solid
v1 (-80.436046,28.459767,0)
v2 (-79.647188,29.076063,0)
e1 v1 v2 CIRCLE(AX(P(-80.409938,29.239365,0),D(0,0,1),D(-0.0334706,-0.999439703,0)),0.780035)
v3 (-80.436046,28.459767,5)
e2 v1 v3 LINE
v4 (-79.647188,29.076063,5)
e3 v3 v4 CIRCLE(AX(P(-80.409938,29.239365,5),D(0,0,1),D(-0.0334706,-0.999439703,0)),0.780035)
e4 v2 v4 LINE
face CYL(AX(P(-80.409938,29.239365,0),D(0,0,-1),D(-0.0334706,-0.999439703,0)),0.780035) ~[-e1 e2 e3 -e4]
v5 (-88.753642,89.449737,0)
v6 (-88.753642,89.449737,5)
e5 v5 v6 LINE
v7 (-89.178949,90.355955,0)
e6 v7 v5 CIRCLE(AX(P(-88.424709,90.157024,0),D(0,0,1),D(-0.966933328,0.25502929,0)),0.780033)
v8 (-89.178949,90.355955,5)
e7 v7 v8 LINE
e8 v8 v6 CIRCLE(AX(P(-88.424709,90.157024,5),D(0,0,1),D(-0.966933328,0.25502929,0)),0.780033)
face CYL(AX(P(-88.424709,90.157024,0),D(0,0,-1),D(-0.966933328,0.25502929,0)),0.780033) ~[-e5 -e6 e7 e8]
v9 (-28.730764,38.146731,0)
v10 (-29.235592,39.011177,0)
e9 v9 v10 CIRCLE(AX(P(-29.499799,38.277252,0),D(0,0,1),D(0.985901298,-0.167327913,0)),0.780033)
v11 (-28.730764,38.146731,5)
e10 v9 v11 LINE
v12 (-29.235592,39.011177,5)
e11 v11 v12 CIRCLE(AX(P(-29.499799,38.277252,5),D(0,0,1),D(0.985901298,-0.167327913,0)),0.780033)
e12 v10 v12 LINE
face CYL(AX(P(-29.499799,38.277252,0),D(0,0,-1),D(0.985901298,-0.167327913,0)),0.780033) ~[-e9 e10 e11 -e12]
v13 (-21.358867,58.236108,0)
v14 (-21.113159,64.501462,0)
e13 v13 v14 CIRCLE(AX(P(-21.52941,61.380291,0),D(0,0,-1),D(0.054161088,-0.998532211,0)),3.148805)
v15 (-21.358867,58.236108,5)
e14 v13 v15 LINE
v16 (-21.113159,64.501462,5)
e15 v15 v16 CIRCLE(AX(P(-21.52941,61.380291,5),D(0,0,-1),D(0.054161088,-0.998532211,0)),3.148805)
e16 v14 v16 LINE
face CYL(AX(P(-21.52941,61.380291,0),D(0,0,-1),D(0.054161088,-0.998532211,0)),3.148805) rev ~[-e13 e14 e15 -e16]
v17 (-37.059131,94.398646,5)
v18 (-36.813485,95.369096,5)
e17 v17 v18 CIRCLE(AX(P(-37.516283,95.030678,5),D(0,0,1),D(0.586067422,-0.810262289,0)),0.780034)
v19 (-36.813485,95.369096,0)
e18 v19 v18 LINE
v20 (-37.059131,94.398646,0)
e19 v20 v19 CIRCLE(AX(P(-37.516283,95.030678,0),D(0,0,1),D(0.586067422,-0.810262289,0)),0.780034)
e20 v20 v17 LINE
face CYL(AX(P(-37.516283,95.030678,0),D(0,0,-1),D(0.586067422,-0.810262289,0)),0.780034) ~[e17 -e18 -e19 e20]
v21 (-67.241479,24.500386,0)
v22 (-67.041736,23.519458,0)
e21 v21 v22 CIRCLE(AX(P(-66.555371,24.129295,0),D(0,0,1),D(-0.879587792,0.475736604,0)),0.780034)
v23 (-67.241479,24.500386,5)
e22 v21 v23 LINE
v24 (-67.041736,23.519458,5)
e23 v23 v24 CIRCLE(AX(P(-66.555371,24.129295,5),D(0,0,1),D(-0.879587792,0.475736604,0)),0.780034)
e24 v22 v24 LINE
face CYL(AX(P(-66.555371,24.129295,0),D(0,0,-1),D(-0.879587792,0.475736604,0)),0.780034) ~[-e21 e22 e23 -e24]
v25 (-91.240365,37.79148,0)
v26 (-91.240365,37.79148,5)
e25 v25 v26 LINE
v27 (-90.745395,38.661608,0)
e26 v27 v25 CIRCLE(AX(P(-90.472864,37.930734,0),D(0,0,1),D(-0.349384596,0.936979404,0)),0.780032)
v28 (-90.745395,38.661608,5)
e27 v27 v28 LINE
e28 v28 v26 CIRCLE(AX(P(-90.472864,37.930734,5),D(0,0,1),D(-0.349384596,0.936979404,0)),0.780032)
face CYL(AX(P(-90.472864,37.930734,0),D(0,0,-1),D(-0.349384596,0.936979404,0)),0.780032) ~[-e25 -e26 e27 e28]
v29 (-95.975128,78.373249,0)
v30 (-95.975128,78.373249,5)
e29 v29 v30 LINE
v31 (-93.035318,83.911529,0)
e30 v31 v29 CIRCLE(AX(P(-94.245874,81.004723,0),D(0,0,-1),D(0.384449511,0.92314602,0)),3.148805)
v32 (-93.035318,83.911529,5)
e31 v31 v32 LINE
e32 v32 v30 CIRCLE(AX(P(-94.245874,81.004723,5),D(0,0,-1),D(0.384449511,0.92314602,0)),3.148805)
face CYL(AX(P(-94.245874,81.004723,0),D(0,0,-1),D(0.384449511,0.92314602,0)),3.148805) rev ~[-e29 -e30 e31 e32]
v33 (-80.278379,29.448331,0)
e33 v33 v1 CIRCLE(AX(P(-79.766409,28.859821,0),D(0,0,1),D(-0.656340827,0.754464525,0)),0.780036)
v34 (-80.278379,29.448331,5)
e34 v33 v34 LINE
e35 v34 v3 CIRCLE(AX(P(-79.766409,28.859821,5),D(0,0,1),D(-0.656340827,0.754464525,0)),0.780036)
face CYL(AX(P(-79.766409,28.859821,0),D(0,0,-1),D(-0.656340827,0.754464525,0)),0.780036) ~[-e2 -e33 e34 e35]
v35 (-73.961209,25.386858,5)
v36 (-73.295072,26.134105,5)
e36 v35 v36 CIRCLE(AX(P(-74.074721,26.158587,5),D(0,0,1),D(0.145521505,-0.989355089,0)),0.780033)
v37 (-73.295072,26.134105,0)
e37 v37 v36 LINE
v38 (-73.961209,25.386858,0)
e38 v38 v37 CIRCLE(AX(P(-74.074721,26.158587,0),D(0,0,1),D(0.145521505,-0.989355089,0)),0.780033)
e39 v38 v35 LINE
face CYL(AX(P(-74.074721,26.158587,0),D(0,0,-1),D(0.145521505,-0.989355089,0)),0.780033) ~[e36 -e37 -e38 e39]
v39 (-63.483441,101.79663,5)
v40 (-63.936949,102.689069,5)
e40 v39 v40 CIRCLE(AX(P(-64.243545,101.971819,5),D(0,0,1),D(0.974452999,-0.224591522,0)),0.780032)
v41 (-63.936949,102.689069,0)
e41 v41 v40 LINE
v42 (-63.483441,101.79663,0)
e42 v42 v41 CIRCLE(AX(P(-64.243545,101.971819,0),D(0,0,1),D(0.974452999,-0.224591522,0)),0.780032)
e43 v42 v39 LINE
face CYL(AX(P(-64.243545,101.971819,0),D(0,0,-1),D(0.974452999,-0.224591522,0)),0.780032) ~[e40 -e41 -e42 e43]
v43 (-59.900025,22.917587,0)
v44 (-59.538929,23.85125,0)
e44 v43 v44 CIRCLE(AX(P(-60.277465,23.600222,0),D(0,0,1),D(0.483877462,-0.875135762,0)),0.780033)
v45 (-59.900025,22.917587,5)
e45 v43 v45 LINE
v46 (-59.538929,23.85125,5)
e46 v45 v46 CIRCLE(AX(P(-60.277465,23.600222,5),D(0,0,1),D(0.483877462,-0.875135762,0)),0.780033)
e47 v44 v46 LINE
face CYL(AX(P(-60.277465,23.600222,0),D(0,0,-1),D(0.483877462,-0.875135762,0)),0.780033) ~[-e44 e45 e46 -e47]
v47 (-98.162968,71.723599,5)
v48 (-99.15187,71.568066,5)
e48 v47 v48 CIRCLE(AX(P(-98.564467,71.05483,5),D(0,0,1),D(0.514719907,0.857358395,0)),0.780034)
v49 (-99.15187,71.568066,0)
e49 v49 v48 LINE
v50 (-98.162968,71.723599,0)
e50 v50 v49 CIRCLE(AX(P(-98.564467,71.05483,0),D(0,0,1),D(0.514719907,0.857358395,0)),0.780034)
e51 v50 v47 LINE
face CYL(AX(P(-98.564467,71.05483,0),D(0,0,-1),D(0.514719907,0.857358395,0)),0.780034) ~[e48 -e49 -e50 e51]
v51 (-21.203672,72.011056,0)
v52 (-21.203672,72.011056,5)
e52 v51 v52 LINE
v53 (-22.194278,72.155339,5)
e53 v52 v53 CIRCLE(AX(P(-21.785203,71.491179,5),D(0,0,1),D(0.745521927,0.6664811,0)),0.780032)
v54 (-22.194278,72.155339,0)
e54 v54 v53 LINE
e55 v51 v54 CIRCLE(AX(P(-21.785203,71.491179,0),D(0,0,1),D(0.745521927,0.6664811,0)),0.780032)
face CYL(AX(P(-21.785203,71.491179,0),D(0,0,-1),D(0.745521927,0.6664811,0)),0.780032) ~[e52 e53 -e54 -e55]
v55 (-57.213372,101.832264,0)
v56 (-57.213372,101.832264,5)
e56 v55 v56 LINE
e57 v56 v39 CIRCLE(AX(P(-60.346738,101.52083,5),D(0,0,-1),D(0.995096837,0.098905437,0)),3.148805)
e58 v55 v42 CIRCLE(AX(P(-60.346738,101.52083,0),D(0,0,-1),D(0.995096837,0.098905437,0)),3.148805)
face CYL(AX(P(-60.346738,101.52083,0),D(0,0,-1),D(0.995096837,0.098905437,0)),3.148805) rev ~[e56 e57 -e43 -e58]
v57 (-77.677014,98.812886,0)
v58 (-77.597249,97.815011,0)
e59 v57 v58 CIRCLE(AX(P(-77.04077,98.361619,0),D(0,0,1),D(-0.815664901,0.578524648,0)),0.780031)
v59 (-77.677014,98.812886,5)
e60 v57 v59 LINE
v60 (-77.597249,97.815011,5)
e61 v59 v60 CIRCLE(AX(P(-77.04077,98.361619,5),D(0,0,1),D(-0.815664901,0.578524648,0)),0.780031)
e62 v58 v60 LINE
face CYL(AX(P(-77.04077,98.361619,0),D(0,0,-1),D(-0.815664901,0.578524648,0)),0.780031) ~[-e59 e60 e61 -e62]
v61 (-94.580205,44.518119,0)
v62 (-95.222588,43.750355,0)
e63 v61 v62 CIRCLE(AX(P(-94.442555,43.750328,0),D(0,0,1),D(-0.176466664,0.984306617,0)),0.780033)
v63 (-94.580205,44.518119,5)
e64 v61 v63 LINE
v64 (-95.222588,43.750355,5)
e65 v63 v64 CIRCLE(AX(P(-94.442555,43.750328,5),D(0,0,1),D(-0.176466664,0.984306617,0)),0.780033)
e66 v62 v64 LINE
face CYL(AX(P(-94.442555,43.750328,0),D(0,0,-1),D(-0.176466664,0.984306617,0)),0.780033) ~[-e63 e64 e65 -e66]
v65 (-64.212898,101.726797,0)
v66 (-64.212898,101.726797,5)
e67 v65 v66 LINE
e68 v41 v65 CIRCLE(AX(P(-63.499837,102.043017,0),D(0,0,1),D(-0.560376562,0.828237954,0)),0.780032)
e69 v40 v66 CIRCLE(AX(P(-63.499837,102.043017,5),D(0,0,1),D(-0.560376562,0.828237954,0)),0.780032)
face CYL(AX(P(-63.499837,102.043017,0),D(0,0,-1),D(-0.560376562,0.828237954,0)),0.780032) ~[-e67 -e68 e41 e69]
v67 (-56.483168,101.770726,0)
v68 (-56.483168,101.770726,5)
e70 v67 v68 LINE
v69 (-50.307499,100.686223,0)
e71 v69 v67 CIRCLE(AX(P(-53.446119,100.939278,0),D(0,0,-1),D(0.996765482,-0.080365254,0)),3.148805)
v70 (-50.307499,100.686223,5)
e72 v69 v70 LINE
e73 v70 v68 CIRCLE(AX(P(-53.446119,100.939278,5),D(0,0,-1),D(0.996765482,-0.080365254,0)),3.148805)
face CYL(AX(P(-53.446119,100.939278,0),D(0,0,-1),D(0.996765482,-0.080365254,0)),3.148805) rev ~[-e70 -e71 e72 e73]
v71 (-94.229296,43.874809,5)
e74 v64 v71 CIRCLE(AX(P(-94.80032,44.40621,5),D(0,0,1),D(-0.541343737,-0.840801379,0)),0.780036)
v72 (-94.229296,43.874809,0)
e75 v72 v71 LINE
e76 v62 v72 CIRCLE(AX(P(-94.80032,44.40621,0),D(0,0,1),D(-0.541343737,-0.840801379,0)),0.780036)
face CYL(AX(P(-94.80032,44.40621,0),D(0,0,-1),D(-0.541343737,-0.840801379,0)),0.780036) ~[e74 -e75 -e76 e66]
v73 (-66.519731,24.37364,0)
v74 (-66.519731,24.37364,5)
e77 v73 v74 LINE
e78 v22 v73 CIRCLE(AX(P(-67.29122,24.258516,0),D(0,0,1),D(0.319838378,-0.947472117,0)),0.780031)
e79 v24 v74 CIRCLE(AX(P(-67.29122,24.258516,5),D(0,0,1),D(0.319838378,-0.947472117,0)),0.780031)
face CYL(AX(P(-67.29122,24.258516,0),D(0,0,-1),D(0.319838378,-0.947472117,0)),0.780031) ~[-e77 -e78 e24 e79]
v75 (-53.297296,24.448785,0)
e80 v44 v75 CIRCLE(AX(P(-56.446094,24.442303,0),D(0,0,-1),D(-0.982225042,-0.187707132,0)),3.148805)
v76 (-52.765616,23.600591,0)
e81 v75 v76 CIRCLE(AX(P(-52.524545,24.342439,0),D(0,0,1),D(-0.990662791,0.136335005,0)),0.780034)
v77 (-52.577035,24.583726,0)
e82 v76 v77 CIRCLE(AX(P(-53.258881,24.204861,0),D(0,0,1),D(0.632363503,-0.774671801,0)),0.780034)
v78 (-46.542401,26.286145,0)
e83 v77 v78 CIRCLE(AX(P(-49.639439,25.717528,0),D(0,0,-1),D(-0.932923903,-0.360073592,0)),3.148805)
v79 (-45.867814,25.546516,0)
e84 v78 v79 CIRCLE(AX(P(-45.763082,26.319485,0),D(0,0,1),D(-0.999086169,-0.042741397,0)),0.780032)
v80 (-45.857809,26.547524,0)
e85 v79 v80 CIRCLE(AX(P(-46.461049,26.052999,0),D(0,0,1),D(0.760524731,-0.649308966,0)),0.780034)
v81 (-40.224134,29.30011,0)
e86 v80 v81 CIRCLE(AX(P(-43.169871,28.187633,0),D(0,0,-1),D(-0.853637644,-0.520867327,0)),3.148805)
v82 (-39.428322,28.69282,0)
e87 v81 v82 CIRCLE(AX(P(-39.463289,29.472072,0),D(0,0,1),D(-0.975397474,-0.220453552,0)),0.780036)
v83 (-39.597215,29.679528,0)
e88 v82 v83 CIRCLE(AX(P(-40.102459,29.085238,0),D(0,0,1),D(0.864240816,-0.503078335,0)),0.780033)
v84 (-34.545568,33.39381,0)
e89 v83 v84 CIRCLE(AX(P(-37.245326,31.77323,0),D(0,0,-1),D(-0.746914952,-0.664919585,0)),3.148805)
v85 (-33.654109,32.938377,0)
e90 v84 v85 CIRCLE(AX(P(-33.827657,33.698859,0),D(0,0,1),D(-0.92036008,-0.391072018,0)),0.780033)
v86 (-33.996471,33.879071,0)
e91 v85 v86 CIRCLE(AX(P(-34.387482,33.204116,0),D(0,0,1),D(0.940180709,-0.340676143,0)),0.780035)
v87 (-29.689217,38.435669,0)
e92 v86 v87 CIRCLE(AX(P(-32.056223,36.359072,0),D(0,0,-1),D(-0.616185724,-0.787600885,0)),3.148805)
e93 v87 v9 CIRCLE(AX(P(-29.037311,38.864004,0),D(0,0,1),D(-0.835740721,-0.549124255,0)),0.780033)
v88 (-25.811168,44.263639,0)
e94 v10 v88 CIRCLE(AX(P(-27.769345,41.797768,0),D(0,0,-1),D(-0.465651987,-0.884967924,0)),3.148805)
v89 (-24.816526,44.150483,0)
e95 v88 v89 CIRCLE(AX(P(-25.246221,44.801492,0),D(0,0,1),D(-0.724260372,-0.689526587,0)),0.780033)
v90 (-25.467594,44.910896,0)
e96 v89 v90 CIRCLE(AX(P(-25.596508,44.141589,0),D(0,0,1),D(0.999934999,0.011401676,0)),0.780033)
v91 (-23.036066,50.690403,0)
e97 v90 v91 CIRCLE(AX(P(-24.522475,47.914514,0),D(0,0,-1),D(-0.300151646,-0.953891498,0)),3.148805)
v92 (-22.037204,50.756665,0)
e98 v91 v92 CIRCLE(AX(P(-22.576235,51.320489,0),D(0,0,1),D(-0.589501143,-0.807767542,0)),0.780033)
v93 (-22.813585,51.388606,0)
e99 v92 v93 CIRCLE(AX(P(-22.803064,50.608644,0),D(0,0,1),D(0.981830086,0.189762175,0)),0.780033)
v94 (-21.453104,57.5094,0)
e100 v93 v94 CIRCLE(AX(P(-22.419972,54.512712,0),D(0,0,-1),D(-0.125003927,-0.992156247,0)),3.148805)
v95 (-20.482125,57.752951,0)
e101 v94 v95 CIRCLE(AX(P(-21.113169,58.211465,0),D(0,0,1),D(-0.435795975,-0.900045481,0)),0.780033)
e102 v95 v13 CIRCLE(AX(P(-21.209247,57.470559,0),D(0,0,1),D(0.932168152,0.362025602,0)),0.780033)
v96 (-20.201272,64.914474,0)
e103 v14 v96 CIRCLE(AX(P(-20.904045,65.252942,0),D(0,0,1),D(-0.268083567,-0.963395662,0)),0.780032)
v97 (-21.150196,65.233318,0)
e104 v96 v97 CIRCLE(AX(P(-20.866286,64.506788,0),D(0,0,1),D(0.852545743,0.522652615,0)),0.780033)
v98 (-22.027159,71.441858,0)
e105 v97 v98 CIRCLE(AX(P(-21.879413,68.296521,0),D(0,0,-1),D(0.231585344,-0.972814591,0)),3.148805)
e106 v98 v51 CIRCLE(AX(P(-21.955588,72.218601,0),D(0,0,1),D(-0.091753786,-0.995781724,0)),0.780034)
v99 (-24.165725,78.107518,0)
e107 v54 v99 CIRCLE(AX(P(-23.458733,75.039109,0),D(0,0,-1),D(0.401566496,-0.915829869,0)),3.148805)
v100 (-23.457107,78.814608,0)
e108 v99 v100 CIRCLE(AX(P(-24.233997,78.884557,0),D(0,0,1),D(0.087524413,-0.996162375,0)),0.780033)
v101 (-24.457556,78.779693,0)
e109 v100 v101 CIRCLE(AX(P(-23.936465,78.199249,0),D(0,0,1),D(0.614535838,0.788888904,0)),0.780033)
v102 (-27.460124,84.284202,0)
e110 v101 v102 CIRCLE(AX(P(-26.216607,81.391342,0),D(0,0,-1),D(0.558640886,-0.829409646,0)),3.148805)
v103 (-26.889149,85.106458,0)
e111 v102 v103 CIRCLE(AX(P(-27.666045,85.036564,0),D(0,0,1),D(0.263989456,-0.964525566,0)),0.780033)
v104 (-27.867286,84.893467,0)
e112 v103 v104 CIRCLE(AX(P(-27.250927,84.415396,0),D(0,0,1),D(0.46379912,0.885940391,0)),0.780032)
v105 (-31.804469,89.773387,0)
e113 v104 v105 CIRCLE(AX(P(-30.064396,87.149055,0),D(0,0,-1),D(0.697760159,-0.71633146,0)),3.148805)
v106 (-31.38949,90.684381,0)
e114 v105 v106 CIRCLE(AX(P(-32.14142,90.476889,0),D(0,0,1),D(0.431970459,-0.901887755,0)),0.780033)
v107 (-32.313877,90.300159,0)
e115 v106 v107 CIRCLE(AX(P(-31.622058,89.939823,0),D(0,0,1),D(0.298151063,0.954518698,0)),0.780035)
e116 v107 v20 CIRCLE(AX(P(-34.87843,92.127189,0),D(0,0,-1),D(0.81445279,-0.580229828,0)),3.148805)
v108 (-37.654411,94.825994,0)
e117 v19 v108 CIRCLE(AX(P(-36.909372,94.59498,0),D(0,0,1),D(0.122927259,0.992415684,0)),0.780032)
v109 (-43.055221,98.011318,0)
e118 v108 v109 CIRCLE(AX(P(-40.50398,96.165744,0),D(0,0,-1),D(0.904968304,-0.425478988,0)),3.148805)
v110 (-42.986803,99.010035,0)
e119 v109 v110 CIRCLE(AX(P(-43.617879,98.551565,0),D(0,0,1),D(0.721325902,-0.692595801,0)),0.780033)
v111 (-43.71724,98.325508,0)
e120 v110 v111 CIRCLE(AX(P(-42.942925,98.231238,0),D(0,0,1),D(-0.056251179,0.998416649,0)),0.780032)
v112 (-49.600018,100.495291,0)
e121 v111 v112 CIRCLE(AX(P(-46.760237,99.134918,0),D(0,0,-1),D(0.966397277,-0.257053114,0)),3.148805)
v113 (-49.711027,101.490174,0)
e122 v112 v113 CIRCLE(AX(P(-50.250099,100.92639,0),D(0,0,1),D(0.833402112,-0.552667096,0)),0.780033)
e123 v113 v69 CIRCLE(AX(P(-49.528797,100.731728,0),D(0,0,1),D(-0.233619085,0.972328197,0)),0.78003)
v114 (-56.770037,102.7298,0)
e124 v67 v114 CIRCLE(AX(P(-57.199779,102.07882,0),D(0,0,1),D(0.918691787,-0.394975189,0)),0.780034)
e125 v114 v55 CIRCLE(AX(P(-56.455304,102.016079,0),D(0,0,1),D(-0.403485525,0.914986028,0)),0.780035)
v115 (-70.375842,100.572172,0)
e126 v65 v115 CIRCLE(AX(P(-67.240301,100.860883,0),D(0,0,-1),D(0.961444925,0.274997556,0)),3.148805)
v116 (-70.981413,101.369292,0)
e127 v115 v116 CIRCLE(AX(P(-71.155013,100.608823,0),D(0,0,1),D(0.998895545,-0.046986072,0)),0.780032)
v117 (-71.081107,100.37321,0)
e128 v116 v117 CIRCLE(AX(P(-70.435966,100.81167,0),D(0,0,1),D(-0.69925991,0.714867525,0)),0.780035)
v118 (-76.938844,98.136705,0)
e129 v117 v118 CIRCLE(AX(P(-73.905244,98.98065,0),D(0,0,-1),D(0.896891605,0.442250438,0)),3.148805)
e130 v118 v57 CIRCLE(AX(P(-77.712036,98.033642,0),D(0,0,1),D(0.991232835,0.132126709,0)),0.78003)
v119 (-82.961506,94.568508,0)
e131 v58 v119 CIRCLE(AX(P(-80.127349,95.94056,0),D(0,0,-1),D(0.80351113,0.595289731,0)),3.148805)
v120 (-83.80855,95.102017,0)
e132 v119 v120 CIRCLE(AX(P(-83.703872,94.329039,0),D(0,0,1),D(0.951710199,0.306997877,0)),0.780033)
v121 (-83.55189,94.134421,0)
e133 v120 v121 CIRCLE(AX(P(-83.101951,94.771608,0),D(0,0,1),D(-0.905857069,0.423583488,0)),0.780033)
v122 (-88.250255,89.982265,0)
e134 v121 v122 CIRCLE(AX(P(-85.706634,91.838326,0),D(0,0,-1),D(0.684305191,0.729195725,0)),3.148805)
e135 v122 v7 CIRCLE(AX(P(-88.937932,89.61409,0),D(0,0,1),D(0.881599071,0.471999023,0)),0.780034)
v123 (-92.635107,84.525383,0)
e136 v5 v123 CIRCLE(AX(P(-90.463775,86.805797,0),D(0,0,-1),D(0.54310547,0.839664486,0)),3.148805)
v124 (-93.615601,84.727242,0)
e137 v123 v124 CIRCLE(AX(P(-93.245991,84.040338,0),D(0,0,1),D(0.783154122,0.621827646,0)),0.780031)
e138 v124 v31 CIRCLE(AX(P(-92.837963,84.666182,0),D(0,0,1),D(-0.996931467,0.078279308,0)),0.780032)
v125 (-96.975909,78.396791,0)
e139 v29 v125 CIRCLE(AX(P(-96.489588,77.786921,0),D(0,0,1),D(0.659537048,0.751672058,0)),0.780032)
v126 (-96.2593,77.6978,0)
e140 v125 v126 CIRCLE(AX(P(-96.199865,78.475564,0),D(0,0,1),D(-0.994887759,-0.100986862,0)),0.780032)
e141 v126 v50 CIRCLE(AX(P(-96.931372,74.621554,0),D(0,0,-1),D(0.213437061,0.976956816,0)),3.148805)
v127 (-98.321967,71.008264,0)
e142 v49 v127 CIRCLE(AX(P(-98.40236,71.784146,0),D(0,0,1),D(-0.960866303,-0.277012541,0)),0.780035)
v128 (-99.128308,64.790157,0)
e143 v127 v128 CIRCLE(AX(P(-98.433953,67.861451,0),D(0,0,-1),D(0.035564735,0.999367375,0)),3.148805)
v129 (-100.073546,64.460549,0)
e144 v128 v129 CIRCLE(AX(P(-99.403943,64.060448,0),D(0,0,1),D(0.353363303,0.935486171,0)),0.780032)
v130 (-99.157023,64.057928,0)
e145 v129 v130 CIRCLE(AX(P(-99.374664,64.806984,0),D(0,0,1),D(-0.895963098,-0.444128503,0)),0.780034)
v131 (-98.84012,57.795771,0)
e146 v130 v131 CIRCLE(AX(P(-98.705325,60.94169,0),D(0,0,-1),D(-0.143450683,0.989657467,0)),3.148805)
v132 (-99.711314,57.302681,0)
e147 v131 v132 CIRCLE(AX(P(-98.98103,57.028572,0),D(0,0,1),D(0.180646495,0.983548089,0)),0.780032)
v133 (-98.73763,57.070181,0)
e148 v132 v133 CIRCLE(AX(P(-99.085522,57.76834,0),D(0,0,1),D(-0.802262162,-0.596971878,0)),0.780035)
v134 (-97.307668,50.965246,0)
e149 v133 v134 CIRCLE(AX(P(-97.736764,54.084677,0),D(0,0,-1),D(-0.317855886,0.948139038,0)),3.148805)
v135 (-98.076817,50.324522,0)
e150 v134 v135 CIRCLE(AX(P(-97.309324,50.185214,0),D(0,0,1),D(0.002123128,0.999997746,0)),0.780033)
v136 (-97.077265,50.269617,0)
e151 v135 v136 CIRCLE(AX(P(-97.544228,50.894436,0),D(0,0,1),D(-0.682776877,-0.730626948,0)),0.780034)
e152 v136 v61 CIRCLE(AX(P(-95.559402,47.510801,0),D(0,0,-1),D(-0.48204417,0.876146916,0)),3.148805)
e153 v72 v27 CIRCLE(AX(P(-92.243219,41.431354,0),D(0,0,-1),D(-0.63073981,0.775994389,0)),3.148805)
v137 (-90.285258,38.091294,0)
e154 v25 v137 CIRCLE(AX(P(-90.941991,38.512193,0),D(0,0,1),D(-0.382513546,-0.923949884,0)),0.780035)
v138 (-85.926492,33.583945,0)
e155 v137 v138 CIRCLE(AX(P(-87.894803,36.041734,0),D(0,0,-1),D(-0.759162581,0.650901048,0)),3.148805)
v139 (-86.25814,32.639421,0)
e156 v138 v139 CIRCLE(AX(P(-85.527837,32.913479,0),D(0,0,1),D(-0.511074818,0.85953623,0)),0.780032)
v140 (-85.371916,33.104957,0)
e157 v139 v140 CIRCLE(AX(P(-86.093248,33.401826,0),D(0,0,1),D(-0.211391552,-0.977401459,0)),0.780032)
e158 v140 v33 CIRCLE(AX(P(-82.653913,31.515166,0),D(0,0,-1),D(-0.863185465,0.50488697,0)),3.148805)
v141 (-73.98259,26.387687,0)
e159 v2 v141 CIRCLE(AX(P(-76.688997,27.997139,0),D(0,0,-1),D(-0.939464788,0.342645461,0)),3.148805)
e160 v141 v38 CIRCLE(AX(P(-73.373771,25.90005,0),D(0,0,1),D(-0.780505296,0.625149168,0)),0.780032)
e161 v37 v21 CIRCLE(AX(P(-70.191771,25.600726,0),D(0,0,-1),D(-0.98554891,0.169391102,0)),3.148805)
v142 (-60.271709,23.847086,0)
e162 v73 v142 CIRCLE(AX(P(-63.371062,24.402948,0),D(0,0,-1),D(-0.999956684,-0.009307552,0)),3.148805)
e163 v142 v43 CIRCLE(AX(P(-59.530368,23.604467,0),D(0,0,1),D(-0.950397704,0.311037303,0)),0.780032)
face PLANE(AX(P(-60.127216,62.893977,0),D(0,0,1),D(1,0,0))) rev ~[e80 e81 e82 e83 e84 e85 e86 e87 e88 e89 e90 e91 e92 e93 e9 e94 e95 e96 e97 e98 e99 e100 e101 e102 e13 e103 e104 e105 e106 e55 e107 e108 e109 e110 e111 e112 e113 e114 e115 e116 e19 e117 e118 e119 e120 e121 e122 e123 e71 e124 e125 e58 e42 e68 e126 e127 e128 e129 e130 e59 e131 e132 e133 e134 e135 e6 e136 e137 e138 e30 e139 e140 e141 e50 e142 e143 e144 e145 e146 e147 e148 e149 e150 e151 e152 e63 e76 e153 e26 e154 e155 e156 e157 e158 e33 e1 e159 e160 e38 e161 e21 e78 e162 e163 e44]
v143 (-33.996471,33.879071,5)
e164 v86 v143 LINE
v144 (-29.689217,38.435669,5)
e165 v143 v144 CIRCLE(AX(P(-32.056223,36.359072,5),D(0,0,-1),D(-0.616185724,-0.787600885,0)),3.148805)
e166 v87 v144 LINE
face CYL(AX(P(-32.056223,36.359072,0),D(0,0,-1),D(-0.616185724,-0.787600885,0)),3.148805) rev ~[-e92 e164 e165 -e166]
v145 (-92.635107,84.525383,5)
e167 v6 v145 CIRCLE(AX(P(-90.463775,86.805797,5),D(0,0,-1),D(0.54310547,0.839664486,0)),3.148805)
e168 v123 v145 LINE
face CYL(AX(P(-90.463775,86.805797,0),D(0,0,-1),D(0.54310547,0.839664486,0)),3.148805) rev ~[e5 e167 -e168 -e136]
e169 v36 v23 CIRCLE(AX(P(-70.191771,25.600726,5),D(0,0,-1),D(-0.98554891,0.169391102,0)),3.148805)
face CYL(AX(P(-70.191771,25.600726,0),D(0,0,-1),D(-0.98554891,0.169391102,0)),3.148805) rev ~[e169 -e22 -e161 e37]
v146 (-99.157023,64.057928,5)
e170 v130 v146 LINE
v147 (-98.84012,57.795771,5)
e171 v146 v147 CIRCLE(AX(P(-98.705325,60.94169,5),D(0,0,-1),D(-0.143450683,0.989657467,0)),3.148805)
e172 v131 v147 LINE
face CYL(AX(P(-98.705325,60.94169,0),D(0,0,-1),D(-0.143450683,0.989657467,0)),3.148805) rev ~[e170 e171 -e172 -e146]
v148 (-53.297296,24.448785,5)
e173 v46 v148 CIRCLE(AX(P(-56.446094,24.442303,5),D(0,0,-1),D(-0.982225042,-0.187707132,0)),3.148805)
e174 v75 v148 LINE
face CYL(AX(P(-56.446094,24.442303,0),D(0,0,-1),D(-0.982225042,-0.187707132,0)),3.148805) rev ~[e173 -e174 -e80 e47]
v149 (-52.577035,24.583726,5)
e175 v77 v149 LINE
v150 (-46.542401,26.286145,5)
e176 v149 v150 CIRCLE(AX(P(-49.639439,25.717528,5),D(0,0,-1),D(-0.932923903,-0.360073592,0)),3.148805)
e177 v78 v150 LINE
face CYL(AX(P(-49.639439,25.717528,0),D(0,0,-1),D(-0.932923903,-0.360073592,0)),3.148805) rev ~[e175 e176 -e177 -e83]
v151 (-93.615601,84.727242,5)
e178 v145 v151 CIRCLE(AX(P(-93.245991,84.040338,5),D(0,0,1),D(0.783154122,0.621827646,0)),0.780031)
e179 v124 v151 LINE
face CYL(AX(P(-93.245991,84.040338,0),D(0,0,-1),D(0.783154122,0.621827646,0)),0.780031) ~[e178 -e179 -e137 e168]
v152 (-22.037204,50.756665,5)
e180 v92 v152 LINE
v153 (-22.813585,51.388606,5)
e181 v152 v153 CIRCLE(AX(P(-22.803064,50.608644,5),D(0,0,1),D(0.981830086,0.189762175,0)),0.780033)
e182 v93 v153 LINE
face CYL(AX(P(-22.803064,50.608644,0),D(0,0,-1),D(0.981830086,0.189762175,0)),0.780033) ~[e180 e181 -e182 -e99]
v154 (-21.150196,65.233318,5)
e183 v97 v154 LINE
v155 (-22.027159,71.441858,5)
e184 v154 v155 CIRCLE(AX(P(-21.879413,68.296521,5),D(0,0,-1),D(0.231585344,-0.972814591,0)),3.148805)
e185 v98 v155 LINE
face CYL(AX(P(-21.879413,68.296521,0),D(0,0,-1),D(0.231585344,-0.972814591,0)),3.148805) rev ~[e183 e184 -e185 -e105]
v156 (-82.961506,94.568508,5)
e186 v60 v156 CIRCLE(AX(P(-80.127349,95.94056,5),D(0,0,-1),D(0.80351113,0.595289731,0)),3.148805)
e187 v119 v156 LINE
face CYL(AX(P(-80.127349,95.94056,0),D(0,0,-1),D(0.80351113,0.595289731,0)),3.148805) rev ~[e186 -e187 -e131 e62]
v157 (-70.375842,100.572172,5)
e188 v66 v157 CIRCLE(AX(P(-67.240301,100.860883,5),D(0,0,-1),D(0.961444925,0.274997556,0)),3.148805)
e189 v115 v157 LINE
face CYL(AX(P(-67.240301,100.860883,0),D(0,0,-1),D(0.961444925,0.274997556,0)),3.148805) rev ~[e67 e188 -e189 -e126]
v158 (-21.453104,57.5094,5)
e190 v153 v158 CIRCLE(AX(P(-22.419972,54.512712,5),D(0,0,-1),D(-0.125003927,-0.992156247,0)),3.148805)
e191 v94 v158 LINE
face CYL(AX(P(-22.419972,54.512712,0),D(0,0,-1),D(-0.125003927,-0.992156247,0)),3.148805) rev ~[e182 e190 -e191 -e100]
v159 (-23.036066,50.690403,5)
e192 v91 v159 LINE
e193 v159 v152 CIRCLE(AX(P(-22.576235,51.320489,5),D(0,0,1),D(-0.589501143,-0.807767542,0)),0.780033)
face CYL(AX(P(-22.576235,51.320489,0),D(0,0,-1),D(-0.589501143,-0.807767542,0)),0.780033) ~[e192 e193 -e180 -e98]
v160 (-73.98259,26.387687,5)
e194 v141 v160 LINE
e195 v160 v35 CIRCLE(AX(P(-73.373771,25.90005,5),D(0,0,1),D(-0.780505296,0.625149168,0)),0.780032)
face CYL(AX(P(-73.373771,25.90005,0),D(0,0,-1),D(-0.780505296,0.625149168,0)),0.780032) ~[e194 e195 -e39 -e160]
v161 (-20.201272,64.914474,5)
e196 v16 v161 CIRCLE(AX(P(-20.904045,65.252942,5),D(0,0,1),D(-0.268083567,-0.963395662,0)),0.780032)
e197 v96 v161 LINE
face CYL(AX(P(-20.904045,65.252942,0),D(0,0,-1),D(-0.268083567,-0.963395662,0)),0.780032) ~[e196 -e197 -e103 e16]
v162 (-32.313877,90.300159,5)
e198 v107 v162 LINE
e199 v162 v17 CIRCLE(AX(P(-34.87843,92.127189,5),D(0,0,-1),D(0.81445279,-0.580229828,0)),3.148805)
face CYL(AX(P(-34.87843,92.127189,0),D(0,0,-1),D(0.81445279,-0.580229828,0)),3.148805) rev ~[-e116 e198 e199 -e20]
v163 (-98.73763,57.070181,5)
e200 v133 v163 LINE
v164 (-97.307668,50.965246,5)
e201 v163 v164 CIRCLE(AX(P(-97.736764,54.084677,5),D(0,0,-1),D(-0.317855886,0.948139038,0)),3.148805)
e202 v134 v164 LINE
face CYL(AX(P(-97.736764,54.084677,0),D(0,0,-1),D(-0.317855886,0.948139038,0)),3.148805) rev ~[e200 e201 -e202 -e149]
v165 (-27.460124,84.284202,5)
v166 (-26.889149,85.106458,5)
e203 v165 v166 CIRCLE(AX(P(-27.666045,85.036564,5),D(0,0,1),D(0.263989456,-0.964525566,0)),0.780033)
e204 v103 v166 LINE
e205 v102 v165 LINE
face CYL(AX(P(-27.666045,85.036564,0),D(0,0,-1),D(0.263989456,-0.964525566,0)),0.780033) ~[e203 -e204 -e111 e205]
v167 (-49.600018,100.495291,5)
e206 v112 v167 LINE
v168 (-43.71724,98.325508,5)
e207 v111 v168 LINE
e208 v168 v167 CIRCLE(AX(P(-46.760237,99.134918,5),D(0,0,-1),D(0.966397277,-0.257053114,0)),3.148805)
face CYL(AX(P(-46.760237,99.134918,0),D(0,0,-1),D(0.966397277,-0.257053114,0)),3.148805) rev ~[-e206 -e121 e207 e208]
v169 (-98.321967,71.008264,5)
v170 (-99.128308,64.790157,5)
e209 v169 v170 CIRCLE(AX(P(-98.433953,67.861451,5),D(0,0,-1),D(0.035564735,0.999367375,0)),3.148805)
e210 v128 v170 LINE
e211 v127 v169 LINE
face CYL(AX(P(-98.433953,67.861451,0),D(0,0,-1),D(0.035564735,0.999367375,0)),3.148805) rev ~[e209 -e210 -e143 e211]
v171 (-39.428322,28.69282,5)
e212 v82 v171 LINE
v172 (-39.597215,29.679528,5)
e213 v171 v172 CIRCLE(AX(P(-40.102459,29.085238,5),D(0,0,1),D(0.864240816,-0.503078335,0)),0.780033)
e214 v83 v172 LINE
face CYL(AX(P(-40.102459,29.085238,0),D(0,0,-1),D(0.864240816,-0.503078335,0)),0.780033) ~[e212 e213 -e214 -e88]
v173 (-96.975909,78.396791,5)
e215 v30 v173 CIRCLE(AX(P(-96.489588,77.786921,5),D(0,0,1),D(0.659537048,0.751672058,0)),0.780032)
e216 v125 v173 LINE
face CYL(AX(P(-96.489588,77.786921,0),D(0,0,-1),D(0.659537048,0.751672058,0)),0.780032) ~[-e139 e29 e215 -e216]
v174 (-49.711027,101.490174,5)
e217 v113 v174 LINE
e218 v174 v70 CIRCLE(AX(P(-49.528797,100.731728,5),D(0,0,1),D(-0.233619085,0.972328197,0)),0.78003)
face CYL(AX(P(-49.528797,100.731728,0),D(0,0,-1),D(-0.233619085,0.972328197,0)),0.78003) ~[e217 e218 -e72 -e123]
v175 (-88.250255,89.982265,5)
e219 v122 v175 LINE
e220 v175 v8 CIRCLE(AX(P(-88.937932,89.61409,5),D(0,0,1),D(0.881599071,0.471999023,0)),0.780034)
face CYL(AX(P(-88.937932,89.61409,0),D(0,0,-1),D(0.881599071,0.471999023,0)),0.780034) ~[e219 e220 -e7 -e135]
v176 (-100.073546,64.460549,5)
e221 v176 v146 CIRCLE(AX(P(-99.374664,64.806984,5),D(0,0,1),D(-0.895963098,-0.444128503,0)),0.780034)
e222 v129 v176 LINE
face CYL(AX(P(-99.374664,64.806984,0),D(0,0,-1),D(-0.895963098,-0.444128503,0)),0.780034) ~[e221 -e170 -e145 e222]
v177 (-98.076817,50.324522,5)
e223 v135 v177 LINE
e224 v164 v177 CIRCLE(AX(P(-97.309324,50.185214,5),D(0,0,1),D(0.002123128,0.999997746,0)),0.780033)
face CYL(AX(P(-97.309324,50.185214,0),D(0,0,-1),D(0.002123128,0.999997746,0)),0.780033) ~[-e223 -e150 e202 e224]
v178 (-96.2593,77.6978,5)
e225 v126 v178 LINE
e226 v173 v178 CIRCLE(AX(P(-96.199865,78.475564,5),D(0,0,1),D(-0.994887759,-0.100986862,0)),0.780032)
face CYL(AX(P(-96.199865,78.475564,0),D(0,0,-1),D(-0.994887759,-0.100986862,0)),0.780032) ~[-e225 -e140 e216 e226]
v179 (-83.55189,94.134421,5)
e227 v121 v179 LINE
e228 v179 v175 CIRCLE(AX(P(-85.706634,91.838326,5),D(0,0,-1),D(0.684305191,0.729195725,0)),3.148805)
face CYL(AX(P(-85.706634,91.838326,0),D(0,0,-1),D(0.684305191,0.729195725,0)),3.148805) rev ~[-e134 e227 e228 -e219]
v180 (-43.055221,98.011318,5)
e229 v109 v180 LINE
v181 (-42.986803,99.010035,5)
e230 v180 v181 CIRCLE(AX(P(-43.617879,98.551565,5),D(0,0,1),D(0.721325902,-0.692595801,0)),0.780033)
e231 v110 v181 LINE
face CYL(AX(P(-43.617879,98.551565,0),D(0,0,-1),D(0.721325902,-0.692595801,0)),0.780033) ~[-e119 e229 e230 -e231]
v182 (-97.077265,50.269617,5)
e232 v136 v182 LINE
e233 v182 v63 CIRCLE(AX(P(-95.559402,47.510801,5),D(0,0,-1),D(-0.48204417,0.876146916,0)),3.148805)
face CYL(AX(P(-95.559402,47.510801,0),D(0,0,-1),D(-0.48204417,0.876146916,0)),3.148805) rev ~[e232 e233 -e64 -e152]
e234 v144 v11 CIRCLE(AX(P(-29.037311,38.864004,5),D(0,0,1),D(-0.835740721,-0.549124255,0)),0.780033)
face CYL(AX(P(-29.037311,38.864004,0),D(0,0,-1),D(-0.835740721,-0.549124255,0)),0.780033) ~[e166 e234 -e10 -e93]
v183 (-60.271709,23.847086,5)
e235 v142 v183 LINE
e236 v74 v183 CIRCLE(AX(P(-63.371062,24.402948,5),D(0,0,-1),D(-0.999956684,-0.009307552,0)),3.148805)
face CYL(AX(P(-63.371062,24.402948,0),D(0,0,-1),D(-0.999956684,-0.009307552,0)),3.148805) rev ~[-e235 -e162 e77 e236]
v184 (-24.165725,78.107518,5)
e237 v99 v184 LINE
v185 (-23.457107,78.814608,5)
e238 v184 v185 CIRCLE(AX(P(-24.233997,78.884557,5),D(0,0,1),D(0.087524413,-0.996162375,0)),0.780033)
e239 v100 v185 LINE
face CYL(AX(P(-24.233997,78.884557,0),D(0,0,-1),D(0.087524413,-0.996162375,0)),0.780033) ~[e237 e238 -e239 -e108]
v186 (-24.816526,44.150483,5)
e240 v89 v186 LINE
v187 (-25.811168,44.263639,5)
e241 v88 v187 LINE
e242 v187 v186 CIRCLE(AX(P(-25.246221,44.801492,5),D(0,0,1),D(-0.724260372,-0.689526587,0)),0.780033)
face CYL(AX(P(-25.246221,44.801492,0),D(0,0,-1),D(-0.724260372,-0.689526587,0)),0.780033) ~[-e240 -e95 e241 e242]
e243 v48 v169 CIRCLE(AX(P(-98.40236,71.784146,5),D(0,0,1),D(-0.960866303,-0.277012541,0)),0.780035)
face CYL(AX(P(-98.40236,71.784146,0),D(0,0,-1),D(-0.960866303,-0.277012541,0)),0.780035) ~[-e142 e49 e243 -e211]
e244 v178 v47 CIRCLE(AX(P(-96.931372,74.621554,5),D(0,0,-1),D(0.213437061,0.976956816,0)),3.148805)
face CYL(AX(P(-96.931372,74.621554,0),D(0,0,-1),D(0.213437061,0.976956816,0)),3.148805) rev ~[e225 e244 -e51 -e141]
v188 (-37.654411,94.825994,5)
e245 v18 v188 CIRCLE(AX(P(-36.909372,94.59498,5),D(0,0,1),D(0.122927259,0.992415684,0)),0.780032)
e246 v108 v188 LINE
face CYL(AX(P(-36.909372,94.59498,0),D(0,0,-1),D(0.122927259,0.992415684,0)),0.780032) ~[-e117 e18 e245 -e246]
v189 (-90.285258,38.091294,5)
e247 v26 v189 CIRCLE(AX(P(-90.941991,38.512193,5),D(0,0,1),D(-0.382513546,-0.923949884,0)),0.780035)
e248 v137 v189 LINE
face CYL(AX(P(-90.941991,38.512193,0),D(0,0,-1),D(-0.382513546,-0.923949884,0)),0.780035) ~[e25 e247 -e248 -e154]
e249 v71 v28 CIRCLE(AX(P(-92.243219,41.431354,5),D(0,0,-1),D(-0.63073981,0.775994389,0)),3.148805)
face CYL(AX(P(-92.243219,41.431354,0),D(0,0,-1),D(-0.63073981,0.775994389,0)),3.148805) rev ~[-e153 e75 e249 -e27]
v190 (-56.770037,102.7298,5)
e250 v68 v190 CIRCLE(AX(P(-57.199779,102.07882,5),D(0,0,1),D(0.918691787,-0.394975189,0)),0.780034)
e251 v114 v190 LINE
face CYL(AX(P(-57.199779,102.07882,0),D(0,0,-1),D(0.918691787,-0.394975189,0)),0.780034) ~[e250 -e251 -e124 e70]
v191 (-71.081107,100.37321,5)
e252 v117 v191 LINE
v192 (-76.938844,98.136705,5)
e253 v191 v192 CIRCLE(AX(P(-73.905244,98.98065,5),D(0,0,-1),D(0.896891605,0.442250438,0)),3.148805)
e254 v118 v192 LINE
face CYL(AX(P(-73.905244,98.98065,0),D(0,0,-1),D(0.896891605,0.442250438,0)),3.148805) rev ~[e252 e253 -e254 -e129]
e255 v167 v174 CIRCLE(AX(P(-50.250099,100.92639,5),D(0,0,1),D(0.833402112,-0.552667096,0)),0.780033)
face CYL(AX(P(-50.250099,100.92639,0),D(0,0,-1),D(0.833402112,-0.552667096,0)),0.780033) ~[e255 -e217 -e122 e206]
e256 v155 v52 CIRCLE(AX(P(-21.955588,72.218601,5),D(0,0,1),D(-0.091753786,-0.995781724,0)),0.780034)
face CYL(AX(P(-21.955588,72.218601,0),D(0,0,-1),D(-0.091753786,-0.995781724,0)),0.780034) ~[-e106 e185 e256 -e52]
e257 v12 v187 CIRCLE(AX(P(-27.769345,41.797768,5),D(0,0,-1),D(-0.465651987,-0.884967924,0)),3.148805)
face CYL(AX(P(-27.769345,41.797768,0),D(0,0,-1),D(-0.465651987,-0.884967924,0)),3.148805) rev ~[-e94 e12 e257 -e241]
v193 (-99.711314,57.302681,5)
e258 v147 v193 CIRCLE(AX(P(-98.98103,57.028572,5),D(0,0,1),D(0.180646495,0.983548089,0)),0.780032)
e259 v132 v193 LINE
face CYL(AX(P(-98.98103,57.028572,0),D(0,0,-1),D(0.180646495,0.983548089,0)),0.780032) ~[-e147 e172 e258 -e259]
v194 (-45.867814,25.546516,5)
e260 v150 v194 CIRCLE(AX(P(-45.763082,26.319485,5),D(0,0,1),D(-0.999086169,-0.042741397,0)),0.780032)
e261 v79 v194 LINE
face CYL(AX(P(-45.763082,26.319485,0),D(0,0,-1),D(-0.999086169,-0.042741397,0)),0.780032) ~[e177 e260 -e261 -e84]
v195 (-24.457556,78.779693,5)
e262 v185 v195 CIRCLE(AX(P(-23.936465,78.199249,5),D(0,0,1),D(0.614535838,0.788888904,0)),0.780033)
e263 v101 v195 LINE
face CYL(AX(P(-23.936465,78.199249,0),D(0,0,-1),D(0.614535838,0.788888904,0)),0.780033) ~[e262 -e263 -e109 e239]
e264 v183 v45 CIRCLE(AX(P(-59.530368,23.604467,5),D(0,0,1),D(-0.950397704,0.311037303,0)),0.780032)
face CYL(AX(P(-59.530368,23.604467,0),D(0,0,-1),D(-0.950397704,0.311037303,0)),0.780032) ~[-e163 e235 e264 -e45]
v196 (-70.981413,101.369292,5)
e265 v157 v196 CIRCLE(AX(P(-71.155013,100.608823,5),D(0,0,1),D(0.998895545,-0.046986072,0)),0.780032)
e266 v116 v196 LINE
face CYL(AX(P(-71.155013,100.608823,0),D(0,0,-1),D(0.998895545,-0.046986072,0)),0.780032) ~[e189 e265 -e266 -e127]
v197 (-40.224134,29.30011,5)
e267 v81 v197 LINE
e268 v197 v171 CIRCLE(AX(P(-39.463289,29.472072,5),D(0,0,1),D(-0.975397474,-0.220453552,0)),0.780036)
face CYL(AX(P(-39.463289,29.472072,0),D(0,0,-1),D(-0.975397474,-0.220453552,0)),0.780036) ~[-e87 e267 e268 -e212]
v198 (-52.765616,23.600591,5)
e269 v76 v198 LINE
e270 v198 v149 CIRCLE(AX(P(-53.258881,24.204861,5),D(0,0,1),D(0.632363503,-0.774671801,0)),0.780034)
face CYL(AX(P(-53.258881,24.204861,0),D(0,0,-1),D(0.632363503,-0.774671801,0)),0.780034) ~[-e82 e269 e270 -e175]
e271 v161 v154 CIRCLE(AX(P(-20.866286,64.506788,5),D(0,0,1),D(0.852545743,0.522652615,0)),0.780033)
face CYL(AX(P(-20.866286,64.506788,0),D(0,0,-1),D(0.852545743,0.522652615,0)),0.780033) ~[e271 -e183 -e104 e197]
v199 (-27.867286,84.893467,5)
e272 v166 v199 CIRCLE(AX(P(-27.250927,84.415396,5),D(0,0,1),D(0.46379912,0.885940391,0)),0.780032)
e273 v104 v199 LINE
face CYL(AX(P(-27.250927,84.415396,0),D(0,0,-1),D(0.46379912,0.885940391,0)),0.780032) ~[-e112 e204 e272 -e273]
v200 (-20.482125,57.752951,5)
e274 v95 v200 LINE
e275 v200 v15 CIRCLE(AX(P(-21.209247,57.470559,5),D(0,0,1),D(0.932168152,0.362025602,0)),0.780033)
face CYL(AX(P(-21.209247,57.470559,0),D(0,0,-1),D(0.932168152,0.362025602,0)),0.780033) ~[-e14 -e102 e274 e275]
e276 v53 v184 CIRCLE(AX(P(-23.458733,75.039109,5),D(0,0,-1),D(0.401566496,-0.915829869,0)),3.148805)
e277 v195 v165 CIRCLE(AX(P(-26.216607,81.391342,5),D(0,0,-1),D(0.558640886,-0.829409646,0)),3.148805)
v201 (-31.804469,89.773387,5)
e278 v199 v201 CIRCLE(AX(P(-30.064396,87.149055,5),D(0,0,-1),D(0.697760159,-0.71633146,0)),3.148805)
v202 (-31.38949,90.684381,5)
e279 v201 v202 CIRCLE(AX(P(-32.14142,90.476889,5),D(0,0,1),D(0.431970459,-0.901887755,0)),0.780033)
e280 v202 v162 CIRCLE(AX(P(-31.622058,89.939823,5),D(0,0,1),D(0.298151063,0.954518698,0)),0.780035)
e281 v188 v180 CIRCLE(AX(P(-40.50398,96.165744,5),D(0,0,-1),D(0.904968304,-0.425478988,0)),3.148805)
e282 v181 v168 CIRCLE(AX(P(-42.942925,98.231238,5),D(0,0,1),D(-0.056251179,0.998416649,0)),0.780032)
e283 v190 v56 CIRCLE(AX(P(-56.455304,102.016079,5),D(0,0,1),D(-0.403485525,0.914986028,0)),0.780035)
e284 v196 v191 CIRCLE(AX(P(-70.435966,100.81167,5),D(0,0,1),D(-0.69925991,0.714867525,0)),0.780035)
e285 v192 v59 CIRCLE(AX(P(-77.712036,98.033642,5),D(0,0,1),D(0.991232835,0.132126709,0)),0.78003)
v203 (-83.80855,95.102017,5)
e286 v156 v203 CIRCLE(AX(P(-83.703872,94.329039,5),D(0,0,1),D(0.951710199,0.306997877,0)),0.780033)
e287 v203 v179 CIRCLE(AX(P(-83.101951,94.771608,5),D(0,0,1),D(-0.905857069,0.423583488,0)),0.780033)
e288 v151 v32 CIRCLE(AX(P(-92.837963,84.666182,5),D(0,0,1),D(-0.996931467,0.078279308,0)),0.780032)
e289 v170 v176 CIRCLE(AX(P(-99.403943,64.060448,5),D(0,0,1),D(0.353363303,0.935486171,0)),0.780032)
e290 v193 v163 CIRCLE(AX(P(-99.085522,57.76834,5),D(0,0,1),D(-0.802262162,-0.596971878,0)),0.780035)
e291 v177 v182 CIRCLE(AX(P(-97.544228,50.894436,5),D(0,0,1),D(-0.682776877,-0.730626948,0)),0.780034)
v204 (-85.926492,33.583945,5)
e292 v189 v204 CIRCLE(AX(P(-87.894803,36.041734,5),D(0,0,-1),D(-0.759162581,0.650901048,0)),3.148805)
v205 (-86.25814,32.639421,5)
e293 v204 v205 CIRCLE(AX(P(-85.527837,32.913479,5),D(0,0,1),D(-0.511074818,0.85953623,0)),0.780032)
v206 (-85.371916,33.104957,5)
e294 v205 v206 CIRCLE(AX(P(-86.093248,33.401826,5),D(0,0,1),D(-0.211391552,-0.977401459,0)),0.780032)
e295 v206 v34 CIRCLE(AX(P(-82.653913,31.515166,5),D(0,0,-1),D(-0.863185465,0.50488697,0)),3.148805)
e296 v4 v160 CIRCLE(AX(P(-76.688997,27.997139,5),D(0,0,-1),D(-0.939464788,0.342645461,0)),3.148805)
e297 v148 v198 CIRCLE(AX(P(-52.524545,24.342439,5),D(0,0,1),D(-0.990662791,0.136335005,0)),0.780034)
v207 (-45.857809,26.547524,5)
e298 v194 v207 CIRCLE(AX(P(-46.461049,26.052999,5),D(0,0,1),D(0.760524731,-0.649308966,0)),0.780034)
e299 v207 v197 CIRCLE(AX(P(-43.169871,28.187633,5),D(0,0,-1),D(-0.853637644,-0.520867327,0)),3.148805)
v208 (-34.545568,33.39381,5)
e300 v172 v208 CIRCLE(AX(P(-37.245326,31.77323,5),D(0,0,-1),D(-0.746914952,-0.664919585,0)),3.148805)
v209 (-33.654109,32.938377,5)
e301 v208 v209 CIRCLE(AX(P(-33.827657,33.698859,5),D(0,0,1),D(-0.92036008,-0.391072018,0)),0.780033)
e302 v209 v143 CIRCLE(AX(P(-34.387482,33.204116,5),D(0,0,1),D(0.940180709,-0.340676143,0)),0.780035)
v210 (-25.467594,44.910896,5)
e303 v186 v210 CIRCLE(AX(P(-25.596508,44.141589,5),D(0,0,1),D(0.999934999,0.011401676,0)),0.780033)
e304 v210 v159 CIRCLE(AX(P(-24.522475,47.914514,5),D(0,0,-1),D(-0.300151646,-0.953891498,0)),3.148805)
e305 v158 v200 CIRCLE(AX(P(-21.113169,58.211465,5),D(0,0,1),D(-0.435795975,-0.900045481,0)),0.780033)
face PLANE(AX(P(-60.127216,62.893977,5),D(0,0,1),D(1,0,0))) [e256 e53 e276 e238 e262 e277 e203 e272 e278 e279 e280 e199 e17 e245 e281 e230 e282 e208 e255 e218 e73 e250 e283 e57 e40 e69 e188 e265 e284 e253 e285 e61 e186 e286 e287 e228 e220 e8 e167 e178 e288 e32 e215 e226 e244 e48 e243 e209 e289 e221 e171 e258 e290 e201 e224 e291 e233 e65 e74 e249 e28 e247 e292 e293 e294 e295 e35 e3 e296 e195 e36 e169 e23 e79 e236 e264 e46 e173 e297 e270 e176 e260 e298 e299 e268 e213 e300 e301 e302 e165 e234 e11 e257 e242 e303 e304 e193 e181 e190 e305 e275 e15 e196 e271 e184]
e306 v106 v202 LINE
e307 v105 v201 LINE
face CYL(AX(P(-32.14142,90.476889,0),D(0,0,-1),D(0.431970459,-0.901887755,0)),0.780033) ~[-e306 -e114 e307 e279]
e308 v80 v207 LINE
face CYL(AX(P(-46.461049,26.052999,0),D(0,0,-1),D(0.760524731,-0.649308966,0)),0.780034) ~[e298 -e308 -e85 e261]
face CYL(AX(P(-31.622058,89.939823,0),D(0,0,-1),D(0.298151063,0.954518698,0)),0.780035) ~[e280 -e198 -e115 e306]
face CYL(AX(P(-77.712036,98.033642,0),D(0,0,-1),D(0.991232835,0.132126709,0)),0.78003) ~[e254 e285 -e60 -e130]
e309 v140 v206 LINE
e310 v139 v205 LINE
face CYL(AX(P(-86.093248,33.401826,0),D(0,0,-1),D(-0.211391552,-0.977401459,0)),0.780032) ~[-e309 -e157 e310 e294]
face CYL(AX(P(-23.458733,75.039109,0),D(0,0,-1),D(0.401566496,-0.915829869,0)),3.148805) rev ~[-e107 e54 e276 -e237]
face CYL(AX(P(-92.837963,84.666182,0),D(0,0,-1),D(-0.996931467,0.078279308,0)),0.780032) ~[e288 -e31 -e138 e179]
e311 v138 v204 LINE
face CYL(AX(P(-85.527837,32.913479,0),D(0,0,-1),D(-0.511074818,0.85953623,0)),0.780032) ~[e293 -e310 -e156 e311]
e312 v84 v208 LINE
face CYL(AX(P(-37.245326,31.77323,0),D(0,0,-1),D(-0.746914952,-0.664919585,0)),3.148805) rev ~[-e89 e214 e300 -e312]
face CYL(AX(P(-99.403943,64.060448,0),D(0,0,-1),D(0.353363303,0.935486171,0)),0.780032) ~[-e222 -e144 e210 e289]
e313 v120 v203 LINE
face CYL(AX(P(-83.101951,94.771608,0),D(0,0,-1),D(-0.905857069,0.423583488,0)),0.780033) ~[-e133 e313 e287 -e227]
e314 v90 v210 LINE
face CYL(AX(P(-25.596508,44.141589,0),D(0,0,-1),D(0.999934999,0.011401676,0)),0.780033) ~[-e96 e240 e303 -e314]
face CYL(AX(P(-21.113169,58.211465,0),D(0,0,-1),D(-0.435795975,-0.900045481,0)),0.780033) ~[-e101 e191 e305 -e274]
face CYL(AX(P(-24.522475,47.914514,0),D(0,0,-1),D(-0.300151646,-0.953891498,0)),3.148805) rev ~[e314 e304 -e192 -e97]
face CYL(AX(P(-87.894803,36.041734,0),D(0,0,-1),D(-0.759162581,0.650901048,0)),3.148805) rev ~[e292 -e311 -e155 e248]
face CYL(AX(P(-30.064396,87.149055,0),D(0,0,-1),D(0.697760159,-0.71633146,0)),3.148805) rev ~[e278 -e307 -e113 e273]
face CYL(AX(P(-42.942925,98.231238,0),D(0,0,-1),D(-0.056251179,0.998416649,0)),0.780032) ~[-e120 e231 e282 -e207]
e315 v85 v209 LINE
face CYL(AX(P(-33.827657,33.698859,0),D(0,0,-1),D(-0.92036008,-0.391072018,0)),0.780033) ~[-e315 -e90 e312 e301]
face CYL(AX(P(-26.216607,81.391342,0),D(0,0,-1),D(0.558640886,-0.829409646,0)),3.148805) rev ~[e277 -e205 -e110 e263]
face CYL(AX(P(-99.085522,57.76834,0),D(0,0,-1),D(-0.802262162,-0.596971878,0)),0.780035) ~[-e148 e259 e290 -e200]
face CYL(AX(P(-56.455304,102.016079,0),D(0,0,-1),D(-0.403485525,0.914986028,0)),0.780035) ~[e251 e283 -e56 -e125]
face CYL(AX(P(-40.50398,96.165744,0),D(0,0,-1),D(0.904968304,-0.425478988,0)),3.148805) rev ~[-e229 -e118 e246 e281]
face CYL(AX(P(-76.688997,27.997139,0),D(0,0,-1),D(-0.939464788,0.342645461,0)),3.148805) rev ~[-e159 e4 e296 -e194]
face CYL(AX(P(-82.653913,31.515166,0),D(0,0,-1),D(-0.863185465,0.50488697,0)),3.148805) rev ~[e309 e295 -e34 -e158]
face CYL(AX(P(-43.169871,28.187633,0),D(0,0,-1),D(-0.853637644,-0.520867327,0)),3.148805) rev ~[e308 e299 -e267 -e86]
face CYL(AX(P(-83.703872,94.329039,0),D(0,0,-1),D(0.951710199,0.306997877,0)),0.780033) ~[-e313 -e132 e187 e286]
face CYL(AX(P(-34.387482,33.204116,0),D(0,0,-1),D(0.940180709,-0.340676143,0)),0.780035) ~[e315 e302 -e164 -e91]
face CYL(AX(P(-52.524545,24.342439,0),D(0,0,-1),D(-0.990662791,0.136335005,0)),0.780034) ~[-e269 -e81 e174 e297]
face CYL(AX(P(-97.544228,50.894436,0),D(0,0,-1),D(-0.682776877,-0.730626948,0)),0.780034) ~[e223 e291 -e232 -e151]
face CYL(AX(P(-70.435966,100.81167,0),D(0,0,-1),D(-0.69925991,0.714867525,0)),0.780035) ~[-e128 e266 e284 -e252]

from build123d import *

# Parameters (mm, degrees)
F1_DEPTH = 5


with BuildPart() as f1:
    # F0 (on Top) → F1 (new body)
    with BuildSketch(Plane.XY):
        with BuildLine():
            ThreePointArc((-24.457556, 78.779693), (-28.980906, 79.883488), (-27.460124, 84.284202))
            ThreePointArc((-27.460124, 84.284202), (-27.025335, 84.591656), (-26.889149, 85.106458))
            ThreePointArc((-26.889149, 85.106458), (-27.416891, 85.177568), (-27.867286, 84.893467))
            ThreePointArc((-27.867286, 84.893467), (-32.515034, 85.171848), (-31.804469, 89.773387))
            ThreePointArc((-31.804469, 89.773387), (-31.431566, 90.153534), (-31.38949, 90.684381))
            ThreePointArc((-31.38949, 90.684381), (-31.921448, 90.660115), (-32.313877, 90.300159))
            ThreePointArc((-32.313877, 90.300159), (-36.936641, 89.744179), (-37.059131, 94.398646))
            ThreePointArc((-37.059131, 94.398646), (-36.760099, 94.839268), (-36.813485, 95.369096))
            ThreePointArc((-36.813485, 95.369096), (-37.332562, 95.250236), (-37.654411, 94.825994))
            ThreePointArc((-37.654411, 94.825994), (-42.103612, 93.453522), (-43.055221, 98.011318))
            ThreePointArc((-43.055221, 98.011318), (-42.83967, 98.498254), (-42.986803, 99.010035))
            ThreePointArc((-42.986803, 99.010035), (-43.476314, 98.800401), (-43.71724, 98.325508))
            ThreePointArc((-43.71724, 98.325508), (-47.849876, 96.180657), (-49.600018, 100.495291))
            ThreePointArc((-49.600018, 100.495291), (-49.474877, 101.012889), (-49.711027, 101.490174))
            ThreePointArc((-49.711027, 101.490174), (-50.155241, 101.196503), (-50.307499, 100.686223))
            ThreePointArc((-50.307499, 100.686223), (-53.990744, 97.83793), (-56.483168, 101.770726))
            ThreePointArc((-56.483168, 101.770726), (-56.452459, 102.302351), (-56.770037, 102.7298))
            ThreePointArc((-56.770037, 102.7298), (-57.154674, 102.36153), (-57.213372, 101.832264))
            ThreePointArc((-57.213372, 101.832264), (-60.328843, 98.372076), (-63.483441, 101.79663))
            ThreePointArc((-63.483441, 101.79663), (-63.54815, 102.325195), (-63.936949, 102.689069))
            ThreePointArc((-63.936949, 102.689069), (-64.249648, 102.258038), (-64.212898, 101.726797))
            ThreePointArc((-64.212898, 101.726797), (-66.660462, 97.765926), (-70.375842, 100.572172))
            ThreePointArc((-70.375842, 100.572172), (-70.53389, 101.080688), (-70.981413, 101.369292))
            ThreePointArc((-70.981413, 101.369292), (-71.212123, 100.889353), (-71.081107, 100.37321))
            ThreePointArc((-71.081107, 100.37321), (-72.782097, 96.038964), (-76.938844, 98.136705))
            ThreePointArc((-76.938844, 98.136705), (-77.185151, 98.608829), (-77.677014, 98.812886))
            ThreePointArc((-77.677014, 98.812886), (-77.818321, 98.299465), (-77.597249, 97.815011))
            ThreePointArc((-77.597249, 97.815011), (-78.496993, 93.246694), (-82.961506, 94.568508))
            ThreePointArc((-82.961506, 94.568508), (-83.288156, 94.989064), (-83.80855, 95.102017))
            ThreePointArc((-83.80855, 95.102017), (-83.855911, 94.571616), (-83.55189, 94.134421))
            ThreePointArc((-83.55189, 94.134421), (-83.62147, 89.478863), (-88.250255, 89.982265))
            ThreePointArc((-88.250255, 89.982265), (-88.646749, 90.337737), (-89.178949, 90.355955))
            ThreePointArc((-89.178949, 90.355955), (-89.130842, 89.825621), (-88.753642, 89.449737))
            ThreePointArc((-88.753642, 89.449737), (-87.990823, 84.856572), (-92.635107, 84.525383))
            ThreePointArc((-92.635107, 84.525383), (-93.088701, 84.804346), (-93.615601, 84.727242))
            ThreePointArc((-93.615601, 84.727242), (-93.473573, 84.214021), (-93.035318, 83.911529))
            ThreePointArc((-93.035318, 83.911529), (-91.464616, 79.528385), (-95.975128, 78.373249))
            ThreePointArc((-95.975128, 78.373249), (-96.471244, 78.566737), (-96.975909, 78.396791))
            ThreePointArc((-96.975909, 78.396791), (-96.744524, 77.917177), (-96.2593, 77.6978))
            ThreePointArc((-96.2593, 77.6978), (-93.931199, 73.665554), (-98.162968, 71.723599))
            ThreePointArc((-98.162968, 71.723599), (-98.68566, 71.825392), (-99.15187, 71.568066))
            ThreePointArc((-99.15187, 71.568066), (-98.838564, 71.137476), (-98.321967, 71.008264))
            ThreePointArc((-98.321967, 71.008264), (-95.311294, 67.456516), (-99.128308, 64.790157))
            ThreePointArc((-99.128308, 64.790157), (-99.660775, 64.796985), (-100.073546, 64.460549))
            ThreePointArc((-100.073546, 64.460549), (-99.68839, 64.092821), (-99.157023, 64.057928))
            ThreePointArc((-99.157023, 64.057928), (-95.560544, 61.100835), (-98.84012, 57.795771))
            ThreePointArc((-98.84012, 57.795771), (-99.36525, 57.707413), (-99.711314, 57.302681))
            ThreePointArc((-99.711314, 57.302681), (-99.266688, 57.009635), (-98.73763, 57.070181))
            ThreePointArc((-98.73763, 57.070181), (-94.670938, 54.802786), (-97.307668, 50.965246))
            ThreePointArc((-97.307668, 50.965246), (-97.808582, 50.784542), (-98.076817, 50.324522))
            ThreePointArc((-98.076817, 50.324522), (-97.58701, 50.115576), (-97.077265, 50.269617))
            ThreePointArc((-97.077265, 50.269617), (-92.671068, 48.764795), (-94.580205, 44.518119))
            ThreePointArc((-94.580205, 44.518119), (-95.040803, 44.250878), (-95.222588, 43.750355))
            ThreePointArc((-95.222588, 43.750355), (-94.703344, 43.632226), (-94.229296, 43.874809))
            ThreePointArc((-94.229296, 43.874809), (-89.625212, 43.180928), (-90.745395, 38.661608))
            ThreePointArc((-90.745395, 38.661608), (-91.150874, 38.316418), (-91.240365, 37.79148))
            ThreePointArc((-91.240365, 37.79148), (-90.708373, 37.767964), (-90.285258, 38.091294))
            ThreePointArc((-90.285258, 38.091294), (-85.631266, 38.230654), (-85.926492, 33.583945))
            ThreePointArc((-85.926492, 33.583945), (-86.263818, 33.171902), (-86.25814, 32.639421))
            ThreePointArc((-86.25814, 32.639421), (-85.730498, 32.711273), (-85.371916, 33.104957))
            ThreePointArc((-85.371916, 33.104957), (-80.817599, 34.07308), (-80.278379, 29.448331))
            ThreePointArc((-80.278379, 29.448331), (-80.53671, 28.982677), (-80.436046, 28.459767))
            ThreePointArc((-80.436046, 28.459767), (-79.929713, 28.624679), (-79.647188, 29.076063))
            ThreePointArc((-79.647188, 29.076063), (-75.338926, 30.841833), (-73.98259, 26.387687))
            ThreePointArc((-73.98259, 26.387687), (-74.153625, 25.88339), (-73.961209, 25.386858))
            ThreePointArc((-73.961209, 25.386858), (-73.492459, 25.639528), (-73.295072, 26.134105))
            ThreePointArc((-73.295072, 26.134105), (-69.371337, 28.640768), (-67.241479, 24.500386))
            ThreePointArc((-67.241479, 24.500386), (-67.319719, 23.973653), (-67.041736, 23.519458))
            ThreePointArc((-67.041736, 23.519458), (-66.625635, 23.851766), (-66.519731, 24.37364))
            ThreePointArc((-66.519731, 24.37364), (-63.106633, 27.54063), (-60.271709, 23.847086))
            ThreePointArc((-60.271709, 23.847086), (-60.254641, 23.314848), (-59.900025, 22.917587))
            ThreePointArc((-59.900025, 22.917587), (-59.549947, 23.318853), (-59.538929, 23.85125))
            ThreePointArc((-59.538929, 23.85125), (-56.746169, 27.576777), (-53.297296, 24.448785))
            ThreePointArc((-53.297296, 24.448785), (-53.185466, 23.928148), (-52.765616, 23.600591))
            ThreePointArc((-52.765616, 23.600591), (-52.492813, 24.057917), (-52.577035, 24.583726))
            ThreePointArc((-52.577035, 24.583726), (-50.494374, 28.748049), (-46.542401, 26.286145))
            ThreePointArc((-46.542401, 26.286145), (-46.339406, 25.793842), (-45.867814, 25.546516))
            ThreePointArc((-45.867814, 25.546516), (-45.681054, 26.045204), (-45.857809, 26.547524))
            ThreePointArc((-45.857809, 26.547524), (-44.552187, 31.016798), (-40.224134, 29.30011))
            ThreePointArc((-40.224134, 29.30011), (-39.936496, 28.851966), (-39.428322, 28.69282))
            ThreePointArc((-39.428322, 28.69282), (-39.333607, 29.21684), (-39.597215, 29.679528))
            ThreePointArc((-39.597215, 29.679528), (-39.110594, 34.310107), (-34.545568, 33.39381))
            ThreePointArc((-34.545568, 33.39381), (-34.182534, 33.004227), (-33.654109, 32.938377))
            ThreePointArc((-33.654109, 32.938377), (-33.654484, 33.470888), (-33.996471, 33.879071))
            ThreePointArc((-33.996471, 33.879071), (-34.344492, 38.522124), (-29.689217, 38.435669))
            ThreePointArc((-29.689217, 38.435669), (-29.262454, 38.117169), (-28.730764, 38.146731))
            ThreePointArc((-28.730764, 38.146731), (-28.826216, 38.670618), (-29.235592, 39.011177))
            ThreePointArc((-29.235592, 39.011177), (-30.407069, 43.517473), (-25.811168, 44.263639))
            ThreePointArc((-25.811168, 44.263639), (-25.334394, 44.026459), (-24.816526, 44.150483))
            ThreePointArc((-24.816526, 44.150483), (-25.003988, 44.648907), (-25.467594, 44.910896))
            ThreePointArc((-25.467594, 44.910896), (-27.424875, 49.135598), (-23.036066, 50.690403))
            ThreePointArc((-23.036066, 50.690403), (-22.524603, 50.542166), (-22.037204, 50.756665))
            ThreePointArc((-22.037204, 50.756665), (-22.31065, 51.213607), (-22.813585, 51.388606))
            ThreePointArc((-22.813585, 51.388606), (-25.493762, 55.19593), (-21.453104, 57.5094))
            ThreePointArc((-21.453104, 57.5094), (-20.923392, 57.45487), (-20.482125, 57.752951))
            ThreePointArc((-20.482125, 57.752951), (-20.832767, 58.153724), (-21.358867, 58.236108))
            ThreePointArc((-21.358867, 58.236108), (-24.675796, 61.503683), (-21.113159, 64.501462))
            ThreePointArc((-21.113159, 64.501462), (-20.582223, 64.542392), (-20.201272, 64.914474))
            ThreePointArc((-20.201272, 64.914474), (-20.61784, 65.246197), (-21.150196, 65.233318))
            ThreePointArc((-21.150196, 65.233318), (-24.997268, 67.856121), (-22.027159, 71.441858))
            ThreePointArc((-22.027159, 71.441858), (-21.512063, 71.576933), (-21.203672, 72.011056))
            ThreePointArc((-21.203672, 72.011056), (-21.672777, 72.263067), (-22.194278, 72.155339))
            ThreePointArc((-22.194278, 72.155339), (-26.447846, 74.049071), (-24.165725, 78.107518))
            ThreePointArc((-24.165725, 78.107518), (-23.683026, 78.332396), (-23.457107, 78.814608))
            ThreePointArc((-23.457107, 78.814608), (-23.963671, 78.978807), (-24.457556, 78.779693))
        make_face()
    extrude(amount=F1_DEPTH)


solid = f1.part
